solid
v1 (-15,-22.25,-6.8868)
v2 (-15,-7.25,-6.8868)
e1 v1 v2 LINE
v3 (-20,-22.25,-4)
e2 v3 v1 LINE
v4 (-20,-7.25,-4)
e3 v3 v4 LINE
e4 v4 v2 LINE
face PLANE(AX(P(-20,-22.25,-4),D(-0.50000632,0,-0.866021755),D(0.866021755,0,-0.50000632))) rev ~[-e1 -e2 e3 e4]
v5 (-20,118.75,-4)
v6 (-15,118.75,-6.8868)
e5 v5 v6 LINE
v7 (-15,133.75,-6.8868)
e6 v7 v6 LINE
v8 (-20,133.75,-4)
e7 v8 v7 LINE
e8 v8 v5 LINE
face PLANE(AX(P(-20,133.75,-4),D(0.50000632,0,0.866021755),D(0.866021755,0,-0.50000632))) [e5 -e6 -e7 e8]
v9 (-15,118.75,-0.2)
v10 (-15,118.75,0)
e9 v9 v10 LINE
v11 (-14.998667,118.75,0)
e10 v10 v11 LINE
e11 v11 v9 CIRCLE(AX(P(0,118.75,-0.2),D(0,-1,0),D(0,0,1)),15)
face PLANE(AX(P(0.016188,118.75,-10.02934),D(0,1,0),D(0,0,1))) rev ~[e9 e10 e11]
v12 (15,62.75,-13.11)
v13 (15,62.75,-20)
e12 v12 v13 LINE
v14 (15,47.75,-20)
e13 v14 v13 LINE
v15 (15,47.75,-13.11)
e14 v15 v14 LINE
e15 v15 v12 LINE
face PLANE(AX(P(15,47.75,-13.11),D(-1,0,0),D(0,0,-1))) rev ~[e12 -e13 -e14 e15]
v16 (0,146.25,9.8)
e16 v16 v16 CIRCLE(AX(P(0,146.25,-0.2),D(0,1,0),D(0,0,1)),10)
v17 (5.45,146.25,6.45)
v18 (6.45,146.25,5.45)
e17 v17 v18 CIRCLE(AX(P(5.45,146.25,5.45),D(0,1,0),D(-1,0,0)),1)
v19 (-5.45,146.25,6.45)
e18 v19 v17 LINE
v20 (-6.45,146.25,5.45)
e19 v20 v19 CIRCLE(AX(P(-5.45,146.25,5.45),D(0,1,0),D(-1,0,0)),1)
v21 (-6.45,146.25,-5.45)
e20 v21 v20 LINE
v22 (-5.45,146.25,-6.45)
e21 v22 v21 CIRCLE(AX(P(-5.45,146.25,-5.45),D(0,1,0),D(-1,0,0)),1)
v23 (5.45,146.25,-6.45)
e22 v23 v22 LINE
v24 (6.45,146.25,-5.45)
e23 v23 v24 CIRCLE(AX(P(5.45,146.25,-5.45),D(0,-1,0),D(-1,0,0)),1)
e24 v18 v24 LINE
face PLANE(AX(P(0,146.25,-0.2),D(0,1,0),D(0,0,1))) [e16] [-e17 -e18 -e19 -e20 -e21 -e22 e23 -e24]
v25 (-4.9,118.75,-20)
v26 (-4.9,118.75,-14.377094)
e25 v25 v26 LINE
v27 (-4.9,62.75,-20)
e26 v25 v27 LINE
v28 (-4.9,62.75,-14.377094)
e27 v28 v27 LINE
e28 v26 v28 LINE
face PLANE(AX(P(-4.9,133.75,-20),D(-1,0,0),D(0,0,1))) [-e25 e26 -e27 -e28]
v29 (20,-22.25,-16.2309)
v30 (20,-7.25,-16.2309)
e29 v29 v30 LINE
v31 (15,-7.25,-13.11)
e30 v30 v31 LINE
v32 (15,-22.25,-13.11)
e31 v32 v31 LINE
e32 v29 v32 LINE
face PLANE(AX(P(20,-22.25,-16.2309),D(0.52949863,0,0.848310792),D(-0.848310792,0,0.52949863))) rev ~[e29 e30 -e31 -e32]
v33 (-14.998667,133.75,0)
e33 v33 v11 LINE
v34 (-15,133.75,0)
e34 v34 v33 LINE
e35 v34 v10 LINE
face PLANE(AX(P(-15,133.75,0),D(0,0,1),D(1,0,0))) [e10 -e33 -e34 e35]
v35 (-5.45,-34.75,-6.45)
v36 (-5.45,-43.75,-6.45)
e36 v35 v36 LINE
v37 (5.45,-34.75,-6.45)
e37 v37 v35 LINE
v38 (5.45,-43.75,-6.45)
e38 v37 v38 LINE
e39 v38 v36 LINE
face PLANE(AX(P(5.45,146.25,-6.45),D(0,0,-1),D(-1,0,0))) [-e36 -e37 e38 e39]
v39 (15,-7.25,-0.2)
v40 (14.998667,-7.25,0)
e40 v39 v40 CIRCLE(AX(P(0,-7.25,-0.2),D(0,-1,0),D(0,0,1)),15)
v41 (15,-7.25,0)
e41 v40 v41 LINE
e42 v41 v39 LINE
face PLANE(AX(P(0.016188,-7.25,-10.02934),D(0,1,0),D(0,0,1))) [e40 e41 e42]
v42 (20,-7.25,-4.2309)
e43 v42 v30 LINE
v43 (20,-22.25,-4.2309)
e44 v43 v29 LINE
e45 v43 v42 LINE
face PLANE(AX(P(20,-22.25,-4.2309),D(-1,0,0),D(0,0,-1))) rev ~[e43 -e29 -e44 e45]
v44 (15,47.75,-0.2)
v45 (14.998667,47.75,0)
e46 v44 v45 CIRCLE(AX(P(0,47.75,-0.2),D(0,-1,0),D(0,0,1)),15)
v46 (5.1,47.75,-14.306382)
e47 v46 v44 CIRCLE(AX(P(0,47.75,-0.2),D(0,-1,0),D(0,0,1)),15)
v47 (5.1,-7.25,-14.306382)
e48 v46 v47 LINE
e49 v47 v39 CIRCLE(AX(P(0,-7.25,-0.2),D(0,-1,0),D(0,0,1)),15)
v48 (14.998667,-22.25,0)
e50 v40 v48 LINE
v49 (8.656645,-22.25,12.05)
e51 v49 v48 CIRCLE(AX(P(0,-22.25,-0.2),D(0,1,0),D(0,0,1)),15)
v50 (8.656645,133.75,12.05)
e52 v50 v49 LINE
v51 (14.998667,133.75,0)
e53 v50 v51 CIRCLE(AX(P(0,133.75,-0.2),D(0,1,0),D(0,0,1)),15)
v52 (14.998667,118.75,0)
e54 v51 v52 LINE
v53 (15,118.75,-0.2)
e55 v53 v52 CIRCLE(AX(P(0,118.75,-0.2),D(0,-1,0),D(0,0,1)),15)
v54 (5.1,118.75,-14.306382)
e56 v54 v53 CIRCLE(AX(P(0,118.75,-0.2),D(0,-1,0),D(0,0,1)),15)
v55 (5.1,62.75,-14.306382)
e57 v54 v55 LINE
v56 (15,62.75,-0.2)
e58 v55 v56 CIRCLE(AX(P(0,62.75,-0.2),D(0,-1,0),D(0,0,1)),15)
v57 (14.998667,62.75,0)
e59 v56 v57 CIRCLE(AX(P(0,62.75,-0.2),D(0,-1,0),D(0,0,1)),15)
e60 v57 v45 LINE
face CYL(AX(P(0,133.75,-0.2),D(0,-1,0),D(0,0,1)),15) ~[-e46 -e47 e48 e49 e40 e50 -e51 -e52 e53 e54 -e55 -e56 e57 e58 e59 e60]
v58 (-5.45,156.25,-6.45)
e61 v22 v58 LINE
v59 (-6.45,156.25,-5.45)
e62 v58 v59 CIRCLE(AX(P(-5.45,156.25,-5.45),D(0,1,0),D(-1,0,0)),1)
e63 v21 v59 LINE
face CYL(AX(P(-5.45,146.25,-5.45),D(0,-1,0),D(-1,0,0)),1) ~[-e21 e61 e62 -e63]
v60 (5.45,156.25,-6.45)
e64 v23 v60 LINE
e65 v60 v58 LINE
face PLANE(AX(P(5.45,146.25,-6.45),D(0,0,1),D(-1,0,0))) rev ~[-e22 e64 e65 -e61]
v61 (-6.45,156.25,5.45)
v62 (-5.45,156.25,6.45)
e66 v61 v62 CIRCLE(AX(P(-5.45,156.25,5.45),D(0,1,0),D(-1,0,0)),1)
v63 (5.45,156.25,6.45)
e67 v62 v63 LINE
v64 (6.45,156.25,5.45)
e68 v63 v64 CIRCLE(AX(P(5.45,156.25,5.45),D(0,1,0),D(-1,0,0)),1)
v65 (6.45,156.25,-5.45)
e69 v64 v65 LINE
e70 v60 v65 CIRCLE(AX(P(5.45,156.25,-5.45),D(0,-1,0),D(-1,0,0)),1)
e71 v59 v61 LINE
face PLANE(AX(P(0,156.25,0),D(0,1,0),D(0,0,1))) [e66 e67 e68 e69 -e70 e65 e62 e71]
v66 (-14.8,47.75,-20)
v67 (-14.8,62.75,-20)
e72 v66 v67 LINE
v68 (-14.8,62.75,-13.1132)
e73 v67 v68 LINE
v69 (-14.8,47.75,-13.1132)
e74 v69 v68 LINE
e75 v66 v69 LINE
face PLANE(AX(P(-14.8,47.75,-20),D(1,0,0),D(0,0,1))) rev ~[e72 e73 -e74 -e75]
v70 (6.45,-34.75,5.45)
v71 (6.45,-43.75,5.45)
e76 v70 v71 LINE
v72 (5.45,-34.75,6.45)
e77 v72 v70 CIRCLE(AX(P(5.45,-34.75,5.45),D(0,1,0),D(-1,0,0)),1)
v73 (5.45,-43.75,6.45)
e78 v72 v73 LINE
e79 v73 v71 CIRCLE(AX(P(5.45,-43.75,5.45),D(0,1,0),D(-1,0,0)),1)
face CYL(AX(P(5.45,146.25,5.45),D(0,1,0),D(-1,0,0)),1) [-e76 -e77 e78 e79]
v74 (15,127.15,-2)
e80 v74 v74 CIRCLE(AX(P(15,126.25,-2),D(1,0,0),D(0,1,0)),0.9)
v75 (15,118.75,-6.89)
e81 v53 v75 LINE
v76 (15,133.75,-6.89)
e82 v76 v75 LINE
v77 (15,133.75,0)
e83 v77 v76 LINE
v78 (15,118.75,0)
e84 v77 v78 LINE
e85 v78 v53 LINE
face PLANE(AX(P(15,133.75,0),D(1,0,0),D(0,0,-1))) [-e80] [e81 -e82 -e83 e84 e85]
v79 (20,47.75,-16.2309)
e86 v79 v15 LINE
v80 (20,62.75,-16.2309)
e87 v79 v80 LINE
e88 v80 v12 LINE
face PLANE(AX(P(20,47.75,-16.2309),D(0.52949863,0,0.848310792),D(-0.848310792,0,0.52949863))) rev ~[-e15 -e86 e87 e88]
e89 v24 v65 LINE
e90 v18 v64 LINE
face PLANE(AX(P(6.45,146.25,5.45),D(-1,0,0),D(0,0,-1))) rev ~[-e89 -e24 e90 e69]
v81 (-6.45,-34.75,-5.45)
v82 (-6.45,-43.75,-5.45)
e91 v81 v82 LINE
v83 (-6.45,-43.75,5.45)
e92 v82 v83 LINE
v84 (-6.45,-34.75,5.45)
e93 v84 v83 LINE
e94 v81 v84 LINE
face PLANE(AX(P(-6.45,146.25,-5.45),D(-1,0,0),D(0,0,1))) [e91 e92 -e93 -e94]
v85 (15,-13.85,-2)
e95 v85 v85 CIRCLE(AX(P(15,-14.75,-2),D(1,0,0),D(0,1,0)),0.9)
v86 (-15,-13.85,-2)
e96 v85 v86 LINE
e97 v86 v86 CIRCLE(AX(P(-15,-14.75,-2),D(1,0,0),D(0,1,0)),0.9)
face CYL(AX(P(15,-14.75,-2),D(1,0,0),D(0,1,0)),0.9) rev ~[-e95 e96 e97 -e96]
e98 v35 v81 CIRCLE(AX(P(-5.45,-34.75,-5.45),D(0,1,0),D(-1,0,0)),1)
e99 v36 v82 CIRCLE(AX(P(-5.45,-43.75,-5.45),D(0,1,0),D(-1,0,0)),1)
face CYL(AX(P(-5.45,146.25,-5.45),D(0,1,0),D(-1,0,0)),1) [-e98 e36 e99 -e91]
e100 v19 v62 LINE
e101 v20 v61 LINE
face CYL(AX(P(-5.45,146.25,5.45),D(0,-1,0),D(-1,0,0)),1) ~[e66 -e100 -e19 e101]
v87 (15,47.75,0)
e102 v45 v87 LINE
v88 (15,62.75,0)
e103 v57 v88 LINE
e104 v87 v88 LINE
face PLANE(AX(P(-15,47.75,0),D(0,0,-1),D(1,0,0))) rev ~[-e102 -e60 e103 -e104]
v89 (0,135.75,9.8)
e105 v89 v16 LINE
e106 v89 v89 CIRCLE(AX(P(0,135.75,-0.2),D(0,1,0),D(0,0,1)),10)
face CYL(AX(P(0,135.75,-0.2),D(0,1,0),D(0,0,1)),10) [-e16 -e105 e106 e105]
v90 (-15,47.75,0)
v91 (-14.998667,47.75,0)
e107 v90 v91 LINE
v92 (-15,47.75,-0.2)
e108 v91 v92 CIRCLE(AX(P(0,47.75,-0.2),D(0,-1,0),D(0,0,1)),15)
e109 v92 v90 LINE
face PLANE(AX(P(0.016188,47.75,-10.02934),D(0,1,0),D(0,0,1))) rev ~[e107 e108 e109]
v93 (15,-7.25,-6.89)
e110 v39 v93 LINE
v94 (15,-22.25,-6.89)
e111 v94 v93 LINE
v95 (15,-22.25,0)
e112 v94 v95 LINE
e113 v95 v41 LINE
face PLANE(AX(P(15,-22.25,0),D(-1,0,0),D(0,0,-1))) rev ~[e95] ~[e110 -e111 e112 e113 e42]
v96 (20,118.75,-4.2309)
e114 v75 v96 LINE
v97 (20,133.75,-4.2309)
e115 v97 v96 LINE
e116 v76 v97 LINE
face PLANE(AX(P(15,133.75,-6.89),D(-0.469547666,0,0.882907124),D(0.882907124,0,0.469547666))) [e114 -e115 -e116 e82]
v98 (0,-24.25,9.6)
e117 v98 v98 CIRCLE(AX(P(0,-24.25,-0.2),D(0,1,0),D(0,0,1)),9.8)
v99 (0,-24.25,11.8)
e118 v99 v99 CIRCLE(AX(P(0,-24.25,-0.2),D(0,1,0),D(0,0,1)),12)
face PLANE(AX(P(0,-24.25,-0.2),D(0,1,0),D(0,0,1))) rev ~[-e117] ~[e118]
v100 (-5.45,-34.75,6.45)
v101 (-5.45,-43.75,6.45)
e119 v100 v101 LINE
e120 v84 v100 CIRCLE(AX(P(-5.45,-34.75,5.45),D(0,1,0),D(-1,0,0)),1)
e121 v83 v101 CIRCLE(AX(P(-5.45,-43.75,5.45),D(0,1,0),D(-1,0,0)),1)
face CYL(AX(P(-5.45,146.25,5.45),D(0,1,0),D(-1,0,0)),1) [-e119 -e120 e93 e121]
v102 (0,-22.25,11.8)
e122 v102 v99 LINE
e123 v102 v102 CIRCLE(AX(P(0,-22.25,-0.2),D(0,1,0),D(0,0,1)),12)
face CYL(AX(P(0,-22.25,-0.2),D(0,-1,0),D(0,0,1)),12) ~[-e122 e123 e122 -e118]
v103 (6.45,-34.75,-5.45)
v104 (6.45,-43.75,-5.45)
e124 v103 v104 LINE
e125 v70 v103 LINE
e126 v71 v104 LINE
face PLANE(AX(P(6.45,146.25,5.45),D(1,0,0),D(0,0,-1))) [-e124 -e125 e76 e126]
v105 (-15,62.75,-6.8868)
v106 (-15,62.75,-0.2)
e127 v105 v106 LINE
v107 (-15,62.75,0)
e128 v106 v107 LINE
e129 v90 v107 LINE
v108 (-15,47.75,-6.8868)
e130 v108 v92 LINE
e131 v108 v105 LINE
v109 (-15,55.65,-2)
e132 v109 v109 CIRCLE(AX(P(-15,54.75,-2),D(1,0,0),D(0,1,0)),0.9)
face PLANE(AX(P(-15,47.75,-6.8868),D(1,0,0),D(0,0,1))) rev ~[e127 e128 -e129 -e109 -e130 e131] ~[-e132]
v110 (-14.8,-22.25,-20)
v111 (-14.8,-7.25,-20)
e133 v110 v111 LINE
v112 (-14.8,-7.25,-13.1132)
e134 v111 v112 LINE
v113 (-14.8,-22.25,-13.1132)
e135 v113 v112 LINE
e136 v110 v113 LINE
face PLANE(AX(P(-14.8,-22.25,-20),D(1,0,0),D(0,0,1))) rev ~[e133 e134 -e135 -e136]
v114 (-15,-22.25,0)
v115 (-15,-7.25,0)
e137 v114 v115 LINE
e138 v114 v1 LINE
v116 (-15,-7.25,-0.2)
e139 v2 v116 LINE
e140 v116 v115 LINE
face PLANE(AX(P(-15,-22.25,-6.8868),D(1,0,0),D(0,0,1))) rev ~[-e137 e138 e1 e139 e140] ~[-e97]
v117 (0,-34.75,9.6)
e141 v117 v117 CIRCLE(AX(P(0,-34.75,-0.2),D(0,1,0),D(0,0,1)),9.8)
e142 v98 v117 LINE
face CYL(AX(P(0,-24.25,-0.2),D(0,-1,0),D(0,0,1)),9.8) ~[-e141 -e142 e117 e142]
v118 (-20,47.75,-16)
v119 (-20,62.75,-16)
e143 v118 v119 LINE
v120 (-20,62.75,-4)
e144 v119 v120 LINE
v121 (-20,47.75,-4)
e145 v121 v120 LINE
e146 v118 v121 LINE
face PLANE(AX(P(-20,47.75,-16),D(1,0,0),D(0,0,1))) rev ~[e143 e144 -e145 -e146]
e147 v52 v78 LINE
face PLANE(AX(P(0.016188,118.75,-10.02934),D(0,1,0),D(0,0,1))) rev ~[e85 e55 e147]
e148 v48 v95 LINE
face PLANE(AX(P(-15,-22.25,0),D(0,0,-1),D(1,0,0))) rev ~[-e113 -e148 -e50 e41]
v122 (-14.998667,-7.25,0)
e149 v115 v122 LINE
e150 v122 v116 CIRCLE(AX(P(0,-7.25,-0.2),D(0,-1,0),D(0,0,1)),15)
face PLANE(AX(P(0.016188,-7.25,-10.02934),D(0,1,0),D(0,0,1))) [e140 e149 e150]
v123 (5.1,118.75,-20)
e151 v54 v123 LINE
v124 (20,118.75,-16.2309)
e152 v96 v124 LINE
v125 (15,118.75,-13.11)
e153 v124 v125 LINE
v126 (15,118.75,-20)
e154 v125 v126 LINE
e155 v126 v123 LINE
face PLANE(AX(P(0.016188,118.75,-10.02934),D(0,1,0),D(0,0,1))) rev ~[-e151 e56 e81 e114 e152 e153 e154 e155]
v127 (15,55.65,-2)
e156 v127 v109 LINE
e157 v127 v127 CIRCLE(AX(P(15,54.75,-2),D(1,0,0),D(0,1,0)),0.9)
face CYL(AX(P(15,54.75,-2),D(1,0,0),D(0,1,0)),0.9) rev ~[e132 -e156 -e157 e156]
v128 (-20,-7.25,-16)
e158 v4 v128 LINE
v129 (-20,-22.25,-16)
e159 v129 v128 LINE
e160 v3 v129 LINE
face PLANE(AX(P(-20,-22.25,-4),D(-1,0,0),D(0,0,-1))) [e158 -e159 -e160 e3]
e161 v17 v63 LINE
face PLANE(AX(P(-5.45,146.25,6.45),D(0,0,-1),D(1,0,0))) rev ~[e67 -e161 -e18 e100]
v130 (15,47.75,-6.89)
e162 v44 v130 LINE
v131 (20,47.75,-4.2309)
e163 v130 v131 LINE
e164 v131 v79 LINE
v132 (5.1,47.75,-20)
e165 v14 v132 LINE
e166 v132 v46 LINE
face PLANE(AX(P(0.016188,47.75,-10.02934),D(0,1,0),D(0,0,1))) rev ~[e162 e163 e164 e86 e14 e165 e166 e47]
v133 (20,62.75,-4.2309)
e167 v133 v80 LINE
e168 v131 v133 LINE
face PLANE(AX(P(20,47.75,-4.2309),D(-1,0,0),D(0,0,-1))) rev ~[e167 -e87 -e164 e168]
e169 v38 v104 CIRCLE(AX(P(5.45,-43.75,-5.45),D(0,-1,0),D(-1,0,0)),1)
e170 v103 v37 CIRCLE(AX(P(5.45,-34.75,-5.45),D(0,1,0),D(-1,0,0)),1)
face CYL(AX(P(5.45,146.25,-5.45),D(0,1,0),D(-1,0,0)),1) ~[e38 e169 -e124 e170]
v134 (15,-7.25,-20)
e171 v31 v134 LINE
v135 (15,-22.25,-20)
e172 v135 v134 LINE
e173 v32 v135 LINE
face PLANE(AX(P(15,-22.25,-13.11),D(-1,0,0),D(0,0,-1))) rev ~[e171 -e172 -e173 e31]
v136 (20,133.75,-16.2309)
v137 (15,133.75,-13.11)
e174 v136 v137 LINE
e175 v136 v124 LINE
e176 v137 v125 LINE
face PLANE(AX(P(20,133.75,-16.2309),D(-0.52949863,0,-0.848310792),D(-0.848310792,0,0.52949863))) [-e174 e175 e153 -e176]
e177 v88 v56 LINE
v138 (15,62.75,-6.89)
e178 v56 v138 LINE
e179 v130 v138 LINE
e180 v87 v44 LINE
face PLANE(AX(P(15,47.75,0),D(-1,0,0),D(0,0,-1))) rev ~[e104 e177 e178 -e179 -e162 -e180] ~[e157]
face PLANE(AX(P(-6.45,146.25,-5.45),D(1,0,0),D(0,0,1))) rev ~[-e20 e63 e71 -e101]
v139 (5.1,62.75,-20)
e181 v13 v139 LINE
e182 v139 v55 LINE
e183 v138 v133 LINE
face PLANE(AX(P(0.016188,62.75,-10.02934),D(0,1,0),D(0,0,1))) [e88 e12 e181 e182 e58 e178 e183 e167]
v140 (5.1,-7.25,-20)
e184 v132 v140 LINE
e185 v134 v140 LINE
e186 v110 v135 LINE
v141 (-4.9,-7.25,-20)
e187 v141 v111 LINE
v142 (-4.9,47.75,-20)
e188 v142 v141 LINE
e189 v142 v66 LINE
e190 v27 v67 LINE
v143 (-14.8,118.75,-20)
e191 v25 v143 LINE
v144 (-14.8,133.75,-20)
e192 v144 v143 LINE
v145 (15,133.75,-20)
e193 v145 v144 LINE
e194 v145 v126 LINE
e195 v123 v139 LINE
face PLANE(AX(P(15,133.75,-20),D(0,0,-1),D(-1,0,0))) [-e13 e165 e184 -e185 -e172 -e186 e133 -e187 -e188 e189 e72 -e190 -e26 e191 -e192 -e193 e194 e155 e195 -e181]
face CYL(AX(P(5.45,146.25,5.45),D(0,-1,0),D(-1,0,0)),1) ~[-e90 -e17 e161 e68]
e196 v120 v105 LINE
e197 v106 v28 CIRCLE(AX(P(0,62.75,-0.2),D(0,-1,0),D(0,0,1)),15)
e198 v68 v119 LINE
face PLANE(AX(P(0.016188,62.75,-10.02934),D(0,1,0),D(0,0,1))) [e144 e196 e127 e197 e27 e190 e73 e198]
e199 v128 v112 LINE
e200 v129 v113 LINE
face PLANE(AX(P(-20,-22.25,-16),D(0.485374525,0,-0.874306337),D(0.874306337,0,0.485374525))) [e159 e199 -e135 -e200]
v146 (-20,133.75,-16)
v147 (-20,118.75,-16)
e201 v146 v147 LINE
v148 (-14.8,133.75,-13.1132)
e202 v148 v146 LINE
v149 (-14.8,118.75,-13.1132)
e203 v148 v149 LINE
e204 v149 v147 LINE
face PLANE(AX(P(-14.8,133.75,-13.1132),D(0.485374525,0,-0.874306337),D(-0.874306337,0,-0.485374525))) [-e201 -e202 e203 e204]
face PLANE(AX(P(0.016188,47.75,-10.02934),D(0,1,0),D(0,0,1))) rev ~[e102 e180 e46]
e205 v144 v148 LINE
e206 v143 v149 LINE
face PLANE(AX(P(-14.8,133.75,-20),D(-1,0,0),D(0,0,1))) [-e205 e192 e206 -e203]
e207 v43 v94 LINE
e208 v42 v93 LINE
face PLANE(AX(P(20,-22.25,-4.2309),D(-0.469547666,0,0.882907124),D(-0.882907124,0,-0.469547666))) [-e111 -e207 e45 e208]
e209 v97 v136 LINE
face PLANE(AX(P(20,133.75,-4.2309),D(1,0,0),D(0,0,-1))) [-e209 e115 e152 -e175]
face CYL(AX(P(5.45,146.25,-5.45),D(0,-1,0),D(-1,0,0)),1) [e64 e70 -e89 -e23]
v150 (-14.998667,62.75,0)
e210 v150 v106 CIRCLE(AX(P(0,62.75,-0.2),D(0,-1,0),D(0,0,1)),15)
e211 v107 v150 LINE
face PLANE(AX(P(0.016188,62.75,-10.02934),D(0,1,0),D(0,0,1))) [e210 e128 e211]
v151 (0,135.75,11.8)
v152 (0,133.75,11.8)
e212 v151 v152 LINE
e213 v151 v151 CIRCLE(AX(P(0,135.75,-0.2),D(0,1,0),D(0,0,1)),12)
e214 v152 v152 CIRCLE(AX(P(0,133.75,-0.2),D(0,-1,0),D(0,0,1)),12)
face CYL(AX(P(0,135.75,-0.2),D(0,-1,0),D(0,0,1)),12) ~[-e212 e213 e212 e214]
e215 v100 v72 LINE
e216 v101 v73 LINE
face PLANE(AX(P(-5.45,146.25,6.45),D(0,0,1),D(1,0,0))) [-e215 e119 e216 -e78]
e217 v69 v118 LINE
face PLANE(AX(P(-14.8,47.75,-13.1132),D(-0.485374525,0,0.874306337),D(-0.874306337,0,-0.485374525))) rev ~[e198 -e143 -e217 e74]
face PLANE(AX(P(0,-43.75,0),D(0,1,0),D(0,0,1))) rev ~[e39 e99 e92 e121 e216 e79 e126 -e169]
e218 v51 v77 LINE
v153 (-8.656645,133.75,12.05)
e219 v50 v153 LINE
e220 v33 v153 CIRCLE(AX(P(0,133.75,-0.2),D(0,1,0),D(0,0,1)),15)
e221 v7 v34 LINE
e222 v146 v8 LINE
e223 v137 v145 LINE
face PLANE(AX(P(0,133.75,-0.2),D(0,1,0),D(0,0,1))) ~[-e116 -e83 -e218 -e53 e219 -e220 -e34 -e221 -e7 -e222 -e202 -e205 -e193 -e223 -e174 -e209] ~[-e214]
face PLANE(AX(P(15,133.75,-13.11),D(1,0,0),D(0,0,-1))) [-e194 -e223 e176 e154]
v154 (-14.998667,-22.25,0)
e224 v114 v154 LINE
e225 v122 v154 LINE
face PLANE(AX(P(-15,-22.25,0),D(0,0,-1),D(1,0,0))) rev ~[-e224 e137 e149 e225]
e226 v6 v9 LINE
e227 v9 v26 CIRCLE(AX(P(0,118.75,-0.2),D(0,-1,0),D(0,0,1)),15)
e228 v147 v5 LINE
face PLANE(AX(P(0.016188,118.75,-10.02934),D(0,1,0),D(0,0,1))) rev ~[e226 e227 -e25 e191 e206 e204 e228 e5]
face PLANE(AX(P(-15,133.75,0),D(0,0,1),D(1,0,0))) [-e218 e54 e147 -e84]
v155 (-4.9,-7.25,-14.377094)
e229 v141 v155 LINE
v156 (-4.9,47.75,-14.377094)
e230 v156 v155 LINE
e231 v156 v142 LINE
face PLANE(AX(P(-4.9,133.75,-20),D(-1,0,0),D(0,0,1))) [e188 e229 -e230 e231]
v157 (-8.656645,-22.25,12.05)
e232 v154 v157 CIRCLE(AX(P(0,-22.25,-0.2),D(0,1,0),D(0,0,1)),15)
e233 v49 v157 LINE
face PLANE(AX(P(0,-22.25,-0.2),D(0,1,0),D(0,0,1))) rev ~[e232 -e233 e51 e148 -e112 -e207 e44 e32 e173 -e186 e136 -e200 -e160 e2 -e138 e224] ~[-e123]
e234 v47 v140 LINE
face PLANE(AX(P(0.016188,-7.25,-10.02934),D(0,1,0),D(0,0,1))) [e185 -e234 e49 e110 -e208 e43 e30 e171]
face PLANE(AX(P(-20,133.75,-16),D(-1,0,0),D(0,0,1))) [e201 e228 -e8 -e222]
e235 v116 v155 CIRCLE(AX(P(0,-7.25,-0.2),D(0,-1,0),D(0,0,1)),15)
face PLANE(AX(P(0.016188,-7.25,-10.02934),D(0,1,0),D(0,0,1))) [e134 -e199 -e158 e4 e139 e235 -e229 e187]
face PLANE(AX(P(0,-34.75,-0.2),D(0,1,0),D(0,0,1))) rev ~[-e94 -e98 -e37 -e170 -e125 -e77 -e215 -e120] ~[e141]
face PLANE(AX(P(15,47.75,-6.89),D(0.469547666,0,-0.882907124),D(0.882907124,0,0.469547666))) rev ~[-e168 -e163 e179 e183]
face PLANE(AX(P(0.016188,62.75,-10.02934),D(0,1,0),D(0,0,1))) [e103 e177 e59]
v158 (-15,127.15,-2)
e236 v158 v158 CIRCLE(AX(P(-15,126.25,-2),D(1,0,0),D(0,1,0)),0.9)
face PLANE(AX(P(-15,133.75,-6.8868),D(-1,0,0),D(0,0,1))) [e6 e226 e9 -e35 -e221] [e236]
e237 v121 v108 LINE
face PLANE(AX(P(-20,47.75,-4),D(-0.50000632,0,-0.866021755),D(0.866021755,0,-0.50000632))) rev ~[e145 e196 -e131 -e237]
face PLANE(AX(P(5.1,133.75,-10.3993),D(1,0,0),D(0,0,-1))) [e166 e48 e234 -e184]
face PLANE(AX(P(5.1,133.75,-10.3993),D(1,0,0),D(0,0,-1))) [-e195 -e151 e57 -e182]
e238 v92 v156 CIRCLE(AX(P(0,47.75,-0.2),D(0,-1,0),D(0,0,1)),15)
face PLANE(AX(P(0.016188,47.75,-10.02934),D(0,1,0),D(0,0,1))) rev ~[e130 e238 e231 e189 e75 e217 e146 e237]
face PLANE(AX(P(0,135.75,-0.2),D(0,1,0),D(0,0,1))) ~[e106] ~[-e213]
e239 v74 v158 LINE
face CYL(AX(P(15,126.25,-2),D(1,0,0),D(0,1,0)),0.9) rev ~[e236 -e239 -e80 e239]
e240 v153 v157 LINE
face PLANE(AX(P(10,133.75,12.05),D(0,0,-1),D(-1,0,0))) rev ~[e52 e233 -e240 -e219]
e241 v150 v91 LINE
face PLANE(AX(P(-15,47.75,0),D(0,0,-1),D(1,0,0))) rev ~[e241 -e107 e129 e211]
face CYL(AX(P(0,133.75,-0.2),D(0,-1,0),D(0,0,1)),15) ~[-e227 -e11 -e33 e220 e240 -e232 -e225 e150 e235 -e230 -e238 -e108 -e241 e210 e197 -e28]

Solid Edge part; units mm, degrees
sketch "Sketch1" plane through (0, 0, 0) normal (1, 0, 0) x (0, 1, 0)
  line L0 (133.75, 14.8) -> (-22.25, 14.8)
  line L1 (-22.25, 14.8) -> (-22.25, 11.8)
  line L2 (-22.25, 11.8) -> (-24.25, 11.8)
  line L3 (-24.25, 11.8) -> (-24.25, 9.6)
  line L4 (-24.25, 9.6) -> (-34.75, 9.6)
  line L5 (-34.75, 9.6) -> (-34.75, -0.2)
  line L6 (-34.75, -0.2) -> (-24.25, -0.2)
  line L7 (-24.25, -0.2) -> (146.25, -0.2)
  line L8 (146.25, 9.8) -> (146.25, -0.2)
  line L9 (135.75, 9.8) -> (146.25, 9.8)
  line L10 (135.75, 9.8) -> (135.75, 11.8)
  line L11 (135.75, 11.8) -> (133.75, 11.8)
  line L12 (133.75, 11.8) -> (133.75, 14.8)
revolve "RevolvedProtrusion1" add sketch "Sketch1" angle 360 about axis through (0, -24.25, -0.2) along (0, 1, 0)
sketch "Sketch2" plane through (0, -22.25, 0) normal (0, -1, 0) x (1, 0, 0)
  line L0 (20, -4.2309) -> (20, -16.2309)
  line L1 (20, -16.2309) -> (15, -13.11)
  line L2 (15, -13.11) -> (15, -20)
  line L3 (15, -20) -> (-14.8, -20)
  line L4 (-14.8, -20) -> (-14.8, -13.1132)
  line L5 (-20, -16) -> (-14.8, -13.1132)
  line L6 (-20, -4) -> (-20, -16)
  line L7 (-20, -4) -> (-15, -6.8868)
  line L8 (-15, -6.8868) -> (-15, 0)
  line L9 (-15, 0) -> (15, 0)
  line L10 (15, 0) -> (15, -6.89)
  line L11 (20, -4.2309) -> (15, -6.89)
extrude "Protrusion1" add sketch "Sketch2" against normal blind 15
extrude "Protrusion2" [suppressed]
sketch "Sketch3" plane through (0, 146.25, -0.2) normal (0, 1, 0) x (-1, 0, 0)
  line L0 (6.45, -5.25) -> (6.45, 5.65)
  arc A0 (6.45, 5.65) -> (5.45, 6.65) centre (5.45, 5.65) ccw
  line L1 (5.45, 6.65) -> (-5.45, 6.65)
  arc A1 (-5.45, 6.65) -> (-6.45, 5.65) centre (-5.45, 5.65) ccw
  line L2 (-6.45, 5.65) -> (-6.45, -5.25)
  arc A2 (-5.45, -6.25) -> (-6.45, -5.25) centre (-5.45, -5.25) cw
  line L3 (-5.45, -6.25) -> (5.45, -6.25)
  arc A3 (5.45, -6.25) -> (6.45, -5.25) centre (5.45, -5.25) ccw
extrude "Anschluss1" add sketch "Sketch3" along normal blind 10
sketch "Sketch4" plane through (0, 146.25, -0.2) normal (0, 1, 0) x (-1, 0, 0)
  line L0 (6.45, -5.25) -> (6.45, 5.65)
  arc A0 (6.45, 5.65) -> (5.45, 6.65) centre (5.45, 5.65) ccw
  line L1 (5.45, 6.65) -> (-5.45, 6.65)
  arc A1 (-5.45, 6.65) -> (-6.45, 5.65) centre (-5.45, 5.65) ccw
  line L2 (-6.45, 5.65) -> (-6.45, -5.25)
  arc A2 (-5.45, -6.25) -> (-6.45, -5.25) centre (-5.45, -5.25) cw
  line L3 (-5.45, -6.25) -> (5.45, -6.25)
  arc A3 (5.45, -6.25) -> (6.45, -5.25) centre (5.45, -5.25) ccw
extrude "ExtrudedProtrusion_8" add sketch "Sketch4" against normal blind 190
extrude "Cutout1" [suppressed]
sketch "Sketch5" plane through (15, 55.75, -3.445) normal (1, 0, 0) x (0, 1, 0)
  circle A0 centre (-70.5, 1.445) radius 0.9
extrude "ExtrudedCutout_5" cut sketch "Sketch5" against normal blind 30
sketch "Sketch6" plane through (15, 55.75, -3.445) normal (1, 0, 0) x (0, 1, 0)
  circle A0 centre (70.5, 1.445) radius 0.9
extrude "ExtrudedCutout_6" cut sketch "Sketch6" against normal blind 30
sketch "Sketch7" plane through (15, 55.75, -3.445) normal (1, 0, 0) x (0, 1, 0)
  circle A0 centre (-1, 1.445) radius 0.9
extrude "ExtrudedCutout_7" cut sketch "Sketch7" against normal blind 30
sketch "Sketch8" plane through (0, 133.75, -0.2) normal (0, 1, 0) x (-1, 0, 0)
  line L0 (-20, -4.0309) -> (-20, -16.0309)
  line L1 (-20, -16.0309) -> (-15, -12.91)
  line L2 (-15, -12.91) -> (-15, -19.8)
  line L3 (-15, -19.8) -> (14.8, -19.8)
  line L4 (14.8, -19.8) -> (14.8, -12.9132)
  line L5 (14.8, -12.9132) -> (20, -15.8)
  line L6 (20, -15.8) -> (20, -3.8)
  line L7 (20, -3.8) -> (15, -6.6868)
  line L8 (15, -6.6868) -> (15, 0.2)
  line L9 (15, 0.2) -> (-15, 0.2)
  line L10 (-15, 0.2) -> (-15, -6.69)
  line L11 (-15, -6.69) -> (-20, -4.0309)
extrude "ExtrudedProtrusion_9" add sketch "Sketch8" against normal blind 15
sketch "Sketch9" plane through (15, 55.75, -3.445) normal (1, 0, 0) x (0, 1, 0)
  circle A0 centre (70.5, 1.445) radius 0.9
extrude "ExtrudedCutout_8" cut sketch "Sketch9" against normal blind 30
sketch "Sketch10" plane through (0, 133.75, -0.2) normal (0, 1, 0) x (-1, 0, 0)
  line L0 (-5.1, -10.1993) -> (-5.1, -19.8)
  line L1 (-5.1, -19.8) -> (4.9, -19.8)
  line L2 (4.9, -19.8) -> (4.9, -10.1993)
  line L3 (4.9, -10.1993) -> (-5.1, -10.1993)
extrude "ExtrudedProtrusion_10" add sketch "Sketch10" against normal blind 156
sketch "Sketch11" plane through (0, 133.75, -0.2) normal (0, 1, 0) x (-1, 0, 0)
  line L0 (-10, 17.75) -> (-10, 12.25)
  line L1 (-10, 12.25) -> (10, 12.25)
  line L2 (10, 12.25) -> (10, 17.75)
  line L3 (10, 17.75) -> (-10, 17.75)
extrude "ExtrudedCutout_9" cut sketch "Sketch11" against normal blind 156
sketch "Sketch12" plane through (-12.45, 47.75, -10.1) normal (0, 1, 0) x (-1, 0, 0)
  line L0 (7.55, -5.9) -> (7.55, 6.1)
  line L1 (7.55, 6.1) -> (2.55, 3.2132)
  line L2 (2.55, 3.2132) -> (2.55, 10.1)
  line L3 (2.55, 10.1) -> (-27.45, 10.1)
  line L4 (-27.45, 10.1) -> (-27.45, 3.21)
  line L5 (-27.45, 3.21) -> (-32.45, 5.8691)
  line L6 (-32.45, 5.8691) -> (-32.45, -6.1309)
  line L7 (-32.45, -6.1309) -> (-27.45, -3.01)
  line L8 (-27.45, -3.01) -> (-27.45, -9.9)
  line L9 (-27.45, -9.9) -> (2.35, -9.9)
  line L10 (2.35, -9.9) -> (2.35, -3.0132)
  line L11 (2.35, -3.0132) -> (7.55, -5.9)
extrude "ExtrudedProtrusion_11" add sketch "Sketch12" along normal blind 15
sketch "Sketch13" plane through (15, 55.75, -3.445) normal (1, 0, 0) x (0, 1, 0)
  circle A0 centre (-1, 1.445) radius 0.9
extrude "ExtrudedCutout_10" cut sketch "Sketch13" against normal blind 30
